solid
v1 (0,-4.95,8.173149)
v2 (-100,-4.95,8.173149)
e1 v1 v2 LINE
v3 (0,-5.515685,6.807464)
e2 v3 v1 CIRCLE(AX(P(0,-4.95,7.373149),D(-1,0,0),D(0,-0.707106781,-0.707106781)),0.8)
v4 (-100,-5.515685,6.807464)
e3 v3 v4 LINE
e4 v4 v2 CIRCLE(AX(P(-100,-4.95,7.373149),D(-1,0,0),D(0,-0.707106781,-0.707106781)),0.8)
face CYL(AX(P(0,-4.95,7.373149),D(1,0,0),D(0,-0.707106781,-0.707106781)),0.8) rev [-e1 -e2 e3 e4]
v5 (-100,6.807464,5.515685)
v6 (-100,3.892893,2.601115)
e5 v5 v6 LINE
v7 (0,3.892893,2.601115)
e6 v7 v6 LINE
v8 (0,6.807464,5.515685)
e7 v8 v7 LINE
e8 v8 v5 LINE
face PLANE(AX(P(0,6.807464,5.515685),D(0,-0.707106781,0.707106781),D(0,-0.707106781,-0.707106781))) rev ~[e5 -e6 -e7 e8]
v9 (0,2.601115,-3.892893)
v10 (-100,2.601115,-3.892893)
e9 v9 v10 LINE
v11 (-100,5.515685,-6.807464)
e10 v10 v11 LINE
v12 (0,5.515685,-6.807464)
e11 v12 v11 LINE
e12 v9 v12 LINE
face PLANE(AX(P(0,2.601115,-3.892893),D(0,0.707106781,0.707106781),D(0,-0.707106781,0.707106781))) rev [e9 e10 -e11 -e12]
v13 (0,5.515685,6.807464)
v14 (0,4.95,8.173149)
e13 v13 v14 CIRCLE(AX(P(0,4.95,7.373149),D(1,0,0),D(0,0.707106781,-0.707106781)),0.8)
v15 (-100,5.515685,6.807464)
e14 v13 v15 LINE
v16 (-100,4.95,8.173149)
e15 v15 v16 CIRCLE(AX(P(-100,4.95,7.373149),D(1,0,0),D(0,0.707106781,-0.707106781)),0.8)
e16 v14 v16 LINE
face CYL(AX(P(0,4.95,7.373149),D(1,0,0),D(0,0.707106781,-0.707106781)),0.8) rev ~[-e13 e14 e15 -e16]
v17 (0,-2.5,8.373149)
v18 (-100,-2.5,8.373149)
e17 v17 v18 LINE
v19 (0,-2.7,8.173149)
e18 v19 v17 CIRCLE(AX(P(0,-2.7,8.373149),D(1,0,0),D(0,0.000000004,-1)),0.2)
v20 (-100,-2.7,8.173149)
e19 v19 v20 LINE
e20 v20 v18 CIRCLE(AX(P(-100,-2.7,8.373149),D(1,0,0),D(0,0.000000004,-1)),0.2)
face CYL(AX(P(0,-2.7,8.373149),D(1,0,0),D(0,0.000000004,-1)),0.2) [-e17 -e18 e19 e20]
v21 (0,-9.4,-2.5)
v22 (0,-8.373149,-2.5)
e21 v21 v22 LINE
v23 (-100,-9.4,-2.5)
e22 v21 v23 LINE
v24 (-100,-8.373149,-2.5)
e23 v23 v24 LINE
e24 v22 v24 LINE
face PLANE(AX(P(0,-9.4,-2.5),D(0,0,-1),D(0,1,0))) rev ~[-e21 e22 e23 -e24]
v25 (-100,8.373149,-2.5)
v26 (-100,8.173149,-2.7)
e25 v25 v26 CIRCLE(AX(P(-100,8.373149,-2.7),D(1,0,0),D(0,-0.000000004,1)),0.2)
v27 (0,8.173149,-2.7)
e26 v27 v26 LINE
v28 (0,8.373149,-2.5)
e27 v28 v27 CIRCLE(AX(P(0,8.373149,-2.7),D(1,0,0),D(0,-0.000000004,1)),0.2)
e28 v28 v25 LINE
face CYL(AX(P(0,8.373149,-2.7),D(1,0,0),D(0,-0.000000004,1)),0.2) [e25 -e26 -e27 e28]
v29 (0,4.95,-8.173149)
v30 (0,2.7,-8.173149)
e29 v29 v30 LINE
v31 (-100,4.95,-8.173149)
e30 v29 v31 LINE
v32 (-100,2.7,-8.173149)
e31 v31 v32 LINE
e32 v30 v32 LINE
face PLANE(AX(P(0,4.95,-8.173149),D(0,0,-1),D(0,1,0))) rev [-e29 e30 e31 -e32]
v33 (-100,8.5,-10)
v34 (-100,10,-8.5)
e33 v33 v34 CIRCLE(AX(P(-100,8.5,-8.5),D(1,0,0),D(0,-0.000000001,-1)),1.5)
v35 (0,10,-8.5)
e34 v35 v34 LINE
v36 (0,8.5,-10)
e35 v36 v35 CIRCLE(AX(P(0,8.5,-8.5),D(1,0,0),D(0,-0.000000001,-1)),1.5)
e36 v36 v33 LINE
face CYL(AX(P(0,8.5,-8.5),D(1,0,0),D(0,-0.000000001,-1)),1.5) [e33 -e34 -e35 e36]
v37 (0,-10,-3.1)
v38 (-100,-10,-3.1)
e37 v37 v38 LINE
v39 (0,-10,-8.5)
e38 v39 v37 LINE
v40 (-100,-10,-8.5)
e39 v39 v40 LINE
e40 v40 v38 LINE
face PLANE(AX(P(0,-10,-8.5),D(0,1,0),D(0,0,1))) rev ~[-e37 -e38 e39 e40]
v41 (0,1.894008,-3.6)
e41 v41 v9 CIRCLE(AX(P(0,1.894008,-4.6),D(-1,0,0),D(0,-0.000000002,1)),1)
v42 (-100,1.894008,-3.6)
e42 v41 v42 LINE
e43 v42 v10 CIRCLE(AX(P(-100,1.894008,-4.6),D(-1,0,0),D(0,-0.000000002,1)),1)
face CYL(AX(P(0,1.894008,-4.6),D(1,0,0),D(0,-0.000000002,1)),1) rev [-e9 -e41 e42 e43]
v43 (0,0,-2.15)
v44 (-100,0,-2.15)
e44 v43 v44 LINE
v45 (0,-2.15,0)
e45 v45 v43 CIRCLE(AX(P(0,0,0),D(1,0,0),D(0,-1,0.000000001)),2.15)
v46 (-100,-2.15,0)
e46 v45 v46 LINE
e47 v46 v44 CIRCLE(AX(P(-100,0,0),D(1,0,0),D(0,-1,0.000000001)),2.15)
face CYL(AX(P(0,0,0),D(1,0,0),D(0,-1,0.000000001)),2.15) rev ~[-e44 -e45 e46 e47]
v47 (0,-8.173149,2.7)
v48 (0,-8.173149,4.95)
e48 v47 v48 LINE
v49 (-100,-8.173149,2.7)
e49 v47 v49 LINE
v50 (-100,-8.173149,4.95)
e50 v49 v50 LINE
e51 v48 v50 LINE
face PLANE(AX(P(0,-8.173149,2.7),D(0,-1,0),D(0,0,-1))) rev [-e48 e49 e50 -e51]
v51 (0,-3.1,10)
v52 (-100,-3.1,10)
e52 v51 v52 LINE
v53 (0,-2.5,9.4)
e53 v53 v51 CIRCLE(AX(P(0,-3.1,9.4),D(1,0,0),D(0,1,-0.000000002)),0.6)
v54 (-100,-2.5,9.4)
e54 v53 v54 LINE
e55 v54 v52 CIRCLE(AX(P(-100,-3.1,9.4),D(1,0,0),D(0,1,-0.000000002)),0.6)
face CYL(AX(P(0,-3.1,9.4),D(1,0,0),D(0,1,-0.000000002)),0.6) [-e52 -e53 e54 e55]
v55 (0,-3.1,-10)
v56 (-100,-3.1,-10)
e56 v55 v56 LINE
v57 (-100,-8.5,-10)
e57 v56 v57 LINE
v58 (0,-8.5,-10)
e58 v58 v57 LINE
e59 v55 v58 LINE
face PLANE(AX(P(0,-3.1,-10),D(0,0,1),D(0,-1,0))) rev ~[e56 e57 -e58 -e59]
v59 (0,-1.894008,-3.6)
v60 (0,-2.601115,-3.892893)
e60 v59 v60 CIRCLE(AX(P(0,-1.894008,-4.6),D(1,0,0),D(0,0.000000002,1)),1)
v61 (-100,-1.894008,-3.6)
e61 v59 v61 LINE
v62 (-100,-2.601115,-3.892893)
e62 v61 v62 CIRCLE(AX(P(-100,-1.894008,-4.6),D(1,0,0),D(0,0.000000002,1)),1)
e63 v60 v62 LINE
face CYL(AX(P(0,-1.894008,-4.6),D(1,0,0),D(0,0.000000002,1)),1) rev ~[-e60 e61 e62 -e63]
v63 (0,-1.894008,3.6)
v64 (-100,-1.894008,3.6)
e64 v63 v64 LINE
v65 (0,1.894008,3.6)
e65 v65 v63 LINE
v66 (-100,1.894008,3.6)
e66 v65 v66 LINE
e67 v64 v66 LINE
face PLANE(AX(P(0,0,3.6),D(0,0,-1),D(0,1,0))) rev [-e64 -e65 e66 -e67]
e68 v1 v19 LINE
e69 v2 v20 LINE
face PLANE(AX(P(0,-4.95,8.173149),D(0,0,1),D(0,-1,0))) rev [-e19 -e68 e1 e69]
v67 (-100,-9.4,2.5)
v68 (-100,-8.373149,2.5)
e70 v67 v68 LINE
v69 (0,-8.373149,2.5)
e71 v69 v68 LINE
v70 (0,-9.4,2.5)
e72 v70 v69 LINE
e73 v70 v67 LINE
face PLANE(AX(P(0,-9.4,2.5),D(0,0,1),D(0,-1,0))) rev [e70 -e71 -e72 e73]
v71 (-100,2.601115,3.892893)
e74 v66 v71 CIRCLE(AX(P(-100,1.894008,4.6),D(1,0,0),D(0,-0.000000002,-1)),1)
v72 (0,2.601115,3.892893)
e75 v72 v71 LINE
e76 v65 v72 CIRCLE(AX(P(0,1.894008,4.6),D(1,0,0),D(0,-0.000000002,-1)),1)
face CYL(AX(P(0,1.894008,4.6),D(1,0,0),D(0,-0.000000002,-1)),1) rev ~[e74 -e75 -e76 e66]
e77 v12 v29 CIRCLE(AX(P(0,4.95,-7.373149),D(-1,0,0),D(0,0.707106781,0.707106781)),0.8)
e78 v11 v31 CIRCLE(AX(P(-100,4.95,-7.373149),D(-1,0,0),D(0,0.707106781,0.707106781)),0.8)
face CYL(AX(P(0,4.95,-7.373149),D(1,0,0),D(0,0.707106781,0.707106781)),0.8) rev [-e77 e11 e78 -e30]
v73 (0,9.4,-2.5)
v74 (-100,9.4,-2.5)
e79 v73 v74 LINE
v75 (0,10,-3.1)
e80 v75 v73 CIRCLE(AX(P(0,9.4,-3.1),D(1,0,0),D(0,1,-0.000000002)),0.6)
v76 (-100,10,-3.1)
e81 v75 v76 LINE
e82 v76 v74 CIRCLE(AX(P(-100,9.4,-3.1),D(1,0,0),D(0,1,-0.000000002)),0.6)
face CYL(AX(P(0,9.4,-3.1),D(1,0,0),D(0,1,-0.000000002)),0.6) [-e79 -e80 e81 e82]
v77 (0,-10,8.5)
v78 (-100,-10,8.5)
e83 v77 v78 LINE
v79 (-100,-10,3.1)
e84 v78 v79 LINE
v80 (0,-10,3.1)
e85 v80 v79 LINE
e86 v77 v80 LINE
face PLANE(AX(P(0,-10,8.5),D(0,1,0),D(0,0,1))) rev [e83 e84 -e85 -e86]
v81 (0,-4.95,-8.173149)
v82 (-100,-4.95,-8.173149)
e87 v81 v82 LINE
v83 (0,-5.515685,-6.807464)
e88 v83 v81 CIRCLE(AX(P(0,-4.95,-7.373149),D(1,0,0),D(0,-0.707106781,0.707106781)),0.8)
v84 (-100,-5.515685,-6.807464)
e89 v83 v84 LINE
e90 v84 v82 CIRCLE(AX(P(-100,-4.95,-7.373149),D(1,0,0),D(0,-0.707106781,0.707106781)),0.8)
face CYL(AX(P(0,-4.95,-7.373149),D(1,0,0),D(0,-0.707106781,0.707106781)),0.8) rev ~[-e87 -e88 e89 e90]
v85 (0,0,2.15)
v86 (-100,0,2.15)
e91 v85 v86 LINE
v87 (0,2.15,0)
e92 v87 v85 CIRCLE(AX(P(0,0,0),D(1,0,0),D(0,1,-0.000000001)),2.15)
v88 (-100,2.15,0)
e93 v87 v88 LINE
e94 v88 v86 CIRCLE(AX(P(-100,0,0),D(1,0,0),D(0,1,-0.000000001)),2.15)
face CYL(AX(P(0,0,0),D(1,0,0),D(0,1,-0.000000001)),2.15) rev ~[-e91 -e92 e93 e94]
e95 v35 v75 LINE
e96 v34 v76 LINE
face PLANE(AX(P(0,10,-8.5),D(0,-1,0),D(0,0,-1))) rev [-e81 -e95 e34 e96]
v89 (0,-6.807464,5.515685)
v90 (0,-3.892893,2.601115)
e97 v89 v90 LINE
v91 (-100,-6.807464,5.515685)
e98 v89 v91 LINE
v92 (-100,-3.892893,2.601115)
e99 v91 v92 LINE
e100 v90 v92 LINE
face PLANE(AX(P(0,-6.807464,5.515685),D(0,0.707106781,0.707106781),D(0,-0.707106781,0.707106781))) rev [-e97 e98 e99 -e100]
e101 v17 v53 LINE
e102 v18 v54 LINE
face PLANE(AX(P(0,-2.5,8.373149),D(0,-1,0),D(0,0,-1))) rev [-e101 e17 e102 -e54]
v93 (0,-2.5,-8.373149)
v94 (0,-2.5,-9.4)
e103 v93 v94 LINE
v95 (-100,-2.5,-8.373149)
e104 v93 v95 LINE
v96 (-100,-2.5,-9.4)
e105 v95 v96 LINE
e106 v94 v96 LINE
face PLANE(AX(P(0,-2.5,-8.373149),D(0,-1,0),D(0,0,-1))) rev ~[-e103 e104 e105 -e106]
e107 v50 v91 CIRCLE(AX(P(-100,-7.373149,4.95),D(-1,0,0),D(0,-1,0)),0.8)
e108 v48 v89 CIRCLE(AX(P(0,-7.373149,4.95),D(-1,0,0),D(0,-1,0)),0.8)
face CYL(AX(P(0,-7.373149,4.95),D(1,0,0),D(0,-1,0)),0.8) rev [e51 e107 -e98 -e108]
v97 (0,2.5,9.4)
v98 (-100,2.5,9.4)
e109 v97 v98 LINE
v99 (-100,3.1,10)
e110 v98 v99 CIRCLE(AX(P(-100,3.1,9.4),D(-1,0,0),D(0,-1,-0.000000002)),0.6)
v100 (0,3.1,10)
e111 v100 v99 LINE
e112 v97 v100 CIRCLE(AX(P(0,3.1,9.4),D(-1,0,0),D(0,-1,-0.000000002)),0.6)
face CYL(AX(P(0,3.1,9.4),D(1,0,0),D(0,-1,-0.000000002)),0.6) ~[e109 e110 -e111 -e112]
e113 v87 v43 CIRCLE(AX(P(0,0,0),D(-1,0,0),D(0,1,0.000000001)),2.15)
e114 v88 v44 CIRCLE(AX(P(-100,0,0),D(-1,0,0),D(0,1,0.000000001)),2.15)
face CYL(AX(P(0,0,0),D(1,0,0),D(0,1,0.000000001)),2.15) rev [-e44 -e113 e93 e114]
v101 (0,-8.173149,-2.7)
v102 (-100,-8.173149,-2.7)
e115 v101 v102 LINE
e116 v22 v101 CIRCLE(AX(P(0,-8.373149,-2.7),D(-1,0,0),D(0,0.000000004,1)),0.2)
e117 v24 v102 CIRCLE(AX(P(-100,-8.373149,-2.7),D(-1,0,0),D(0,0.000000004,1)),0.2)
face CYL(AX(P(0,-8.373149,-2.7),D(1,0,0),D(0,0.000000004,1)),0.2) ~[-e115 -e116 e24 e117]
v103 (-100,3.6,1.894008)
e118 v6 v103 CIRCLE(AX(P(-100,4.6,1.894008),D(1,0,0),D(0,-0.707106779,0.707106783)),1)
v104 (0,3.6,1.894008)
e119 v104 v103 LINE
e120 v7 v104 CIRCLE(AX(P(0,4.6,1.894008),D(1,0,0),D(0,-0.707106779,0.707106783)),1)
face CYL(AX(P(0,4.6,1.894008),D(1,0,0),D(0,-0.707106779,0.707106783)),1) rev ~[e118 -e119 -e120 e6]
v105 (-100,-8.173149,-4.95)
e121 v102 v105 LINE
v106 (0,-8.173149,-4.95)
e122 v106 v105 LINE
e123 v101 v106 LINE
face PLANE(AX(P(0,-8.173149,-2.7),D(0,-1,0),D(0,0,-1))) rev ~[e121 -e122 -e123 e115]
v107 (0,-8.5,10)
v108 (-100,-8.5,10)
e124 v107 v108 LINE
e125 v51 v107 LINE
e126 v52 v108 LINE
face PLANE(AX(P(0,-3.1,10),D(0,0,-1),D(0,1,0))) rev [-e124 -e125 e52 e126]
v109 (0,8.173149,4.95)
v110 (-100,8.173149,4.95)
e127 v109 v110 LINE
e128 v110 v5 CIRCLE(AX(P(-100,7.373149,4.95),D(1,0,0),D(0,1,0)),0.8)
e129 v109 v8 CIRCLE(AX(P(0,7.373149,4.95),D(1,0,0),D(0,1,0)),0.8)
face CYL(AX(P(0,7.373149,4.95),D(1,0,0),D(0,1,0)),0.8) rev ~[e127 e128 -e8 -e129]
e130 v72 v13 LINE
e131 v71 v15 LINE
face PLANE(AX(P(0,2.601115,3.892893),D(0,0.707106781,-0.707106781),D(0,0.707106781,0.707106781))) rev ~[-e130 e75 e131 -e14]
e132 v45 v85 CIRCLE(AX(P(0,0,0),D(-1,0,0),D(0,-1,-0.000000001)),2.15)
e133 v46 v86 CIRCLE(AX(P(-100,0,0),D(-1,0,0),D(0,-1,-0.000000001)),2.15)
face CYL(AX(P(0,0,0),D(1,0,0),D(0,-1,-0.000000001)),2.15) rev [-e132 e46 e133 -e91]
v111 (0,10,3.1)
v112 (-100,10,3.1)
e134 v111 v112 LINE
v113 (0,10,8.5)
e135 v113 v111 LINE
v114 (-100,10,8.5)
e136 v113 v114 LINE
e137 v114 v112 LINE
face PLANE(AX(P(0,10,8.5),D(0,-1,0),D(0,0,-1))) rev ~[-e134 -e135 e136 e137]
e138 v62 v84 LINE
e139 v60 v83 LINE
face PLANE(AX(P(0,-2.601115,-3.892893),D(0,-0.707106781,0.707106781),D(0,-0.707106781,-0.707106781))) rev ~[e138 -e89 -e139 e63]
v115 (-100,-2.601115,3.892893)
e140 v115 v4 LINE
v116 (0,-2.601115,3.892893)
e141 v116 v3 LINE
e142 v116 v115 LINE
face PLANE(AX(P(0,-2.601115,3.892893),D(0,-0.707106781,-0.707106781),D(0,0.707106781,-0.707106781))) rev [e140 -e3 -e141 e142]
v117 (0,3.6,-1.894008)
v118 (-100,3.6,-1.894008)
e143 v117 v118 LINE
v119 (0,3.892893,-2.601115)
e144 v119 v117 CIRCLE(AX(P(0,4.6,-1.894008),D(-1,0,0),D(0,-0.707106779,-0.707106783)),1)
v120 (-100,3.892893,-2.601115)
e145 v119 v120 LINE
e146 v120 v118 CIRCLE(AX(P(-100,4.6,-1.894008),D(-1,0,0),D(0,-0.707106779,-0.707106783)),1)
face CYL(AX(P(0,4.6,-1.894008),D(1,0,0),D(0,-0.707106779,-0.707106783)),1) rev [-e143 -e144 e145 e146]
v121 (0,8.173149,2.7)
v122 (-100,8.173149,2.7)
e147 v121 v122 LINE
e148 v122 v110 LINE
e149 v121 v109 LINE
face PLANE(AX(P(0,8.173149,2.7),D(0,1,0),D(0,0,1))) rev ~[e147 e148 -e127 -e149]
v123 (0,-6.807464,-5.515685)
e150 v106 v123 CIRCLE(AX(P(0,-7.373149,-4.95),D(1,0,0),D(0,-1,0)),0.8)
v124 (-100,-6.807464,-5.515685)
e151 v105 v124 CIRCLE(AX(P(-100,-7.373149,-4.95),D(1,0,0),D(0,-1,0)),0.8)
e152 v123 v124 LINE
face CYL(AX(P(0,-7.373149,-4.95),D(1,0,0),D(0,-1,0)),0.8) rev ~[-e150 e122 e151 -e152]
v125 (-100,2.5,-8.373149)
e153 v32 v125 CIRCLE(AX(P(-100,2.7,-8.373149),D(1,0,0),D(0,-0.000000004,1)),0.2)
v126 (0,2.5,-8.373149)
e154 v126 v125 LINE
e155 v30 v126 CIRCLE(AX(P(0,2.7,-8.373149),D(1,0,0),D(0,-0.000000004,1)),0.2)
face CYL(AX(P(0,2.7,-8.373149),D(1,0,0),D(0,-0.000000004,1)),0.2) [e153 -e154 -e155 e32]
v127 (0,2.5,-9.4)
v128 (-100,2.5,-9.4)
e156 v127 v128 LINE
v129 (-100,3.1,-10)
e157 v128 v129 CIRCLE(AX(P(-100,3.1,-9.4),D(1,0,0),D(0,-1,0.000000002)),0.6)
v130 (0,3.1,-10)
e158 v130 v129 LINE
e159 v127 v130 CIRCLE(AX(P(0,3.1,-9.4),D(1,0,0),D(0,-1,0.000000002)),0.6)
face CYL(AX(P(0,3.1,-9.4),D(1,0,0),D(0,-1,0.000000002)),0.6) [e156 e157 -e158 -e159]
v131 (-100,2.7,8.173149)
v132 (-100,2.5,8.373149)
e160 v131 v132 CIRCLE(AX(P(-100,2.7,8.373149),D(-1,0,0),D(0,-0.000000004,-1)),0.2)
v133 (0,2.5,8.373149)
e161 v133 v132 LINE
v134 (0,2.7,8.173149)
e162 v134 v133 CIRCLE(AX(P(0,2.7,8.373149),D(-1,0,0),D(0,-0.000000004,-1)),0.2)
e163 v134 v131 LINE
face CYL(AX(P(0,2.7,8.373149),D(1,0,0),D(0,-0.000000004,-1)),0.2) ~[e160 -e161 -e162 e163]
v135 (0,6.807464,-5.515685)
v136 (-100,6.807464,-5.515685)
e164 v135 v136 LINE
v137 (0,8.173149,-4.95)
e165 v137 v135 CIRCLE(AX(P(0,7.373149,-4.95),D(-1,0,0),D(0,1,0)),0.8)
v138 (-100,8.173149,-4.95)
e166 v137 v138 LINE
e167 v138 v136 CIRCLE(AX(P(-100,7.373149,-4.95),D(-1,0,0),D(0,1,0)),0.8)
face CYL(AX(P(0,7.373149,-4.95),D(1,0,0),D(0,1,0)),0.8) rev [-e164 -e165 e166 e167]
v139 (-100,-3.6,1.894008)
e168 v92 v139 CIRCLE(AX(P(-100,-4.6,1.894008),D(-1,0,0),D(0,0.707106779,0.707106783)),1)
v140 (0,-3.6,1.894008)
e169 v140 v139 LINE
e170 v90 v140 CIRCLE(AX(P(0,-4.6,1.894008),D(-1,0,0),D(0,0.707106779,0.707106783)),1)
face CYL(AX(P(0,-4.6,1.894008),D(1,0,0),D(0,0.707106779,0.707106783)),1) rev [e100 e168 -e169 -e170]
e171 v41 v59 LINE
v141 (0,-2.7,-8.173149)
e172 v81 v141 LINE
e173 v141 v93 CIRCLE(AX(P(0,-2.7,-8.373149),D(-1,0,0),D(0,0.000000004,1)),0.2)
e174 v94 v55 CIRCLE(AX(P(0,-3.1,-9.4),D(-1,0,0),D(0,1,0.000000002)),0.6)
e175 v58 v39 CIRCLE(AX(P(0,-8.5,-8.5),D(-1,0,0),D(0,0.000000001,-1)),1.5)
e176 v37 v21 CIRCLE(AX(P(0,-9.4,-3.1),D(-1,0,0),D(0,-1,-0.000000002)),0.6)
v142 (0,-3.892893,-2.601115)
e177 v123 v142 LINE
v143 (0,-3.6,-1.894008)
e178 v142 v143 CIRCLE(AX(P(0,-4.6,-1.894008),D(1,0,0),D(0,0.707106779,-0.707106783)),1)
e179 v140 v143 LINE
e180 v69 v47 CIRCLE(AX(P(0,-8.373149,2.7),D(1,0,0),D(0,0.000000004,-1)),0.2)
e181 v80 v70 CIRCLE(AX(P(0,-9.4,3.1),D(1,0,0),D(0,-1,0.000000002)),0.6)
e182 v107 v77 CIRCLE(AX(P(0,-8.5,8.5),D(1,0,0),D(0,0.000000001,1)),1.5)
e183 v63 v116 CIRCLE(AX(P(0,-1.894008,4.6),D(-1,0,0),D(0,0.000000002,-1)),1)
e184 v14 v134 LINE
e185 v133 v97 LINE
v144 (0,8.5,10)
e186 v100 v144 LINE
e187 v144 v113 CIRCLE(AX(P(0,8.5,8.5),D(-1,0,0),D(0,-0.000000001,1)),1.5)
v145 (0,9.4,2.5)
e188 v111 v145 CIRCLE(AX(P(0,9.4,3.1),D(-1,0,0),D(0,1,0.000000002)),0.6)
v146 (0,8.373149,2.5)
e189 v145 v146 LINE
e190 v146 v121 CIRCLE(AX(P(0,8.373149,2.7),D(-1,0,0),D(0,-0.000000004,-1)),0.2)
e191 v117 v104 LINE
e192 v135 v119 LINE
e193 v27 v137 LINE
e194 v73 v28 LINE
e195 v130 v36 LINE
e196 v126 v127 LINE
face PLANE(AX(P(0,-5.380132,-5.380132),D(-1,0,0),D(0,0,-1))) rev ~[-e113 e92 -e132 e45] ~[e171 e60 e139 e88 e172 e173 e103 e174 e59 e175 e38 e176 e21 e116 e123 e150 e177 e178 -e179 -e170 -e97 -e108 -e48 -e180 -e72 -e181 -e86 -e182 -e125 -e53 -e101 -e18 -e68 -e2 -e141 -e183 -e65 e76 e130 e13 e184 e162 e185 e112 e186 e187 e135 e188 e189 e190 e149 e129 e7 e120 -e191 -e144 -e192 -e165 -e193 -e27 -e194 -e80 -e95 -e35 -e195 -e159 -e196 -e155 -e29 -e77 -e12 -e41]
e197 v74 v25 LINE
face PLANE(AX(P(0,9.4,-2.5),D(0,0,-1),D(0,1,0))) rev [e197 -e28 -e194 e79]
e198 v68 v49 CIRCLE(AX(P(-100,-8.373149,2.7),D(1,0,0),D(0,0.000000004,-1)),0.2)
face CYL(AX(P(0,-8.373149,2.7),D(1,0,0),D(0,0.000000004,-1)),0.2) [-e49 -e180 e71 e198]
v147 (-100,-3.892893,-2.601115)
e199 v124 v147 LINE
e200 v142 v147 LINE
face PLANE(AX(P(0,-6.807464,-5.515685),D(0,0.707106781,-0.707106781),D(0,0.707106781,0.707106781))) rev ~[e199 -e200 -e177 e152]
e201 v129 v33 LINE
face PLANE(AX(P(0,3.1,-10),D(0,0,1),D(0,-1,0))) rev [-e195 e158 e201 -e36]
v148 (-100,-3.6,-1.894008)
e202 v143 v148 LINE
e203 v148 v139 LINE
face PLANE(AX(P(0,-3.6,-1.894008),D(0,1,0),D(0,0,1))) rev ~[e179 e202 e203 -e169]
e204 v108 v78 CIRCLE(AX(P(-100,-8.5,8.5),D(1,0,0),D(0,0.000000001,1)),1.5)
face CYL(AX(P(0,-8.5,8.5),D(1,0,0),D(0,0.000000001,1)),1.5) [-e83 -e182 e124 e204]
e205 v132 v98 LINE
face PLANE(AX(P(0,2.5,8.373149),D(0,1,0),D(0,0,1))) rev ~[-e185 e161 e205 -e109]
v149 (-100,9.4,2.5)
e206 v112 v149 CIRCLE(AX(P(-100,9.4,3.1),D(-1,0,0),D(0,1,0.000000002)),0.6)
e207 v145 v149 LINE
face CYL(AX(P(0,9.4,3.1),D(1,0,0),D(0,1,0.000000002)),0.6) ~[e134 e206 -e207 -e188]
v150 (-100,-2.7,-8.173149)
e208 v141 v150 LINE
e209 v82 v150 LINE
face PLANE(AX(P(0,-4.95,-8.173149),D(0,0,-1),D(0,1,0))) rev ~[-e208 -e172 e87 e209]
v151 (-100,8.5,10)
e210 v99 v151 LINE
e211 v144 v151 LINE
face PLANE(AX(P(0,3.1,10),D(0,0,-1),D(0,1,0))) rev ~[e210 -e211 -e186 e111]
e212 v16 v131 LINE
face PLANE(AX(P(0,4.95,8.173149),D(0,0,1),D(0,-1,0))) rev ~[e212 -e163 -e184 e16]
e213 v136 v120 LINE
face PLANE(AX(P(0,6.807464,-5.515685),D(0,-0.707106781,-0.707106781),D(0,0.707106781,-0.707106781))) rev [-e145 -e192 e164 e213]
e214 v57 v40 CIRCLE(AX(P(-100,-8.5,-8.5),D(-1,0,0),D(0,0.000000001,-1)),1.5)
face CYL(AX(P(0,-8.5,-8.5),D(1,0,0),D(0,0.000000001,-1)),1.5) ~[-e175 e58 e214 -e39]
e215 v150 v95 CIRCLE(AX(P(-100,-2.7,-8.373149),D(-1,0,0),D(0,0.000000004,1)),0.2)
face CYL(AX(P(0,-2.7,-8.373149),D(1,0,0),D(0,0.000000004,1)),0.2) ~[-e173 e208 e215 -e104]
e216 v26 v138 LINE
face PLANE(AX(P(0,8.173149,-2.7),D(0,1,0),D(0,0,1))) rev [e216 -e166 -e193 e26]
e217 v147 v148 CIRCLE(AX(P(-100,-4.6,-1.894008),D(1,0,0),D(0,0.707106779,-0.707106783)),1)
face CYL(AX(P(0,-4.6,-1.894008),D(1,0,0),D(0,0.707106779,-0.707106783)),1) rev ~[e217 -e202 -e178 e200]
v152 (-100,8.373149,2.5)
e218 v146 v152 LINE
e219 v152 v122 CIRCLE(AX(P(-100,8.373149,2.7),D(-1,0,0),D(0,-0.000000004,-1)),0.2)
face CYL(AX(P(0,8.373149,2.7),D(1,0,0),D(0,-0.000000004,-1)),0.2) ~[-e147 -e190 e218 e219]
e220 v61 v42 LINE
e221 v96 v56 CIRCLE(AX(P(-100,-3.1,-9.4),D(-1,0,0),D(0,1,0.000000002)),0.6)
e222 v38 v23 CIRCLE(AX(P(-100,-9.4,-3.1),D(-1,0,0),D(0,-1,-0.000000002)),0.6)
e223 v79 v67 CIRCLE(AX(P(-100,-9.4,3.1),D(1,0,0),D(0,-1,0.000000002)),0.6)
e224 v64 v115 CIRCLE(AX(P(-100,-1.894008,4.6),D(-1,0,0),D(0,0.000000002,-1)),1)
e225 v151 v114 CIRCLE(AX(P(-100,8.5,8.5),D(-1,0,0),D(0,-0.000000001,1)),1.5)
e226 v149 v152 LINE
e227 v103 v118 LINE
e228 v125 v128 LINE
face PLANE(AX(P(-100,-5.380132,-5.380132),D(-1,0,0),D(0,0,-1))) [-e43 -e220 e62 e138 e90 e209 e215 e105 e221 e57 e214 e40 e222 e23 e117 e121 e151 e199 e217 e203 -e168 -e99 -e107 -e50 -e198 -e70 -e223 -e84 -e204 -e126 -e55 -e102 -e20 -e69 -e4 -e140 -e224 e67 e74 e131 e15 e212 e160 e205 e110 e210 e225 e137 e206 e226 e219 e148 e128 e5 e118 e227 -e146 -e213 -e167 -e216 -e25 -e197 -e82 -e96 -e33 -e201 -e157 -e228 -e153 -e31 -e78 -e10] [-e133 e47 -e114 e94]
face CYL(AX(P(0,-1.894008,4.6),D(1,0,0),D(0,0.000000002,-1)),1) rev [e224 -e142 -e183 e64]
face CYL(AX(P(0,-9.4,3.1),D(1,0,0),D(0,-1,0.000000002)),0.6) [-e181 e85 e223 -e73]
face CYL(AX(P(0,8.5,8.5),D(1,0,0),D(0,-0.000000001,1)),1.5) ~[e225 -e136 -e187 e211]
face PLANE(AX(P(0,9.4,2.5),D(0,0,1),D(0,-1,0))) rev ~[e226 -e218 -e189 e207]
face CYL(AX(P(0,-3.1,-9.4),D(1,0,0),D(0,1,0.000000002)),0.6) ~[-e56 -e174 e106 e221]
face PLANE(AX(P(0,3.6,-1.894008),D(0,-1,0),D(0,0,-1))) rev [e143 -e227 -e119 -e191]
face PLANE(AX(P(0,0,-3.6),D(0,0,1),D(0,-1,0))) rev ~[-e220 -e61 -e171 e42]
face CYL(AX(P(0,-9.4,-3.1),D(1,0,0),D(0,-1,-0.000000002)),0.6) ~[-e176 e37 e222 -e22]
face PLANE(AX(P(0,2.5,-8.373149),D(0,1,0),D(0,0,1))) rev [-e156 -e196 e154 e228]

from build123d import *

# Parameters (mm, degrees)
BOSS_EXTRUDE1_DEPTH = 100


with BuildPart() as part:
    # Sketch3 → Boss-Extrude1 (new body)
    with BuildSketch(Plane(origin=(0, 0, 0), x_dir=(0, 0, -1), z_dir=(1, 0, 0))):
        with BuildLine():
            Line((-5.515685425, 6.807463915), (-2.601114729, 3.892893219))
            ThreePointArc((-2.601114729, 3.892893219), (-2.27669138, 3.676120467), (-1.894007948, 3.6))
            Line((-1.894007948, 3.6), (0, 3.6))
            Line((0, 3.6), (0, 2.15))
            ThreePointArc((0, 2.15), (-1.52027958, 1.52027958), (-2.15, 0))
            Line((-2.15, 0), (-3.6, 0))
            Line((-3.6, 0), (-3.6, 1.894007948))
            ThreePointArc((-3.6, 1.894007948), (-3.676120467, 2.27669138), (-3.892893219, 2.601114729))
            Line((-3.892893219, 2.601114729), (-6.807463915, 5.515685425))
            ThreePointArc((-6.807463915, 5.515685425), (-7.679296086, 5.689103626), (-8.17314934, 4.95))
            Line((-8.17314934, 4.95), (-8.17314934, 2.7))
            ThreePointArc((-8.17314934, 2.7), (-8.231727984, 2.558578644), (-8.37314934, 2.5))
            Line((-8.37314934, 2.5), (-9.4, 2.5))
            ThreePointArc((-9.4, 2.5), (-9.824264069, 2.675735931), (-10, 3.1))
            Line((-10, 3.1), (-10, 8.5))
            ThreePointArc((-10, 8.5), (-9.560660172, 9.560660172), (-8.5, 10))
            Line((-8.5, 10), (-3.1, 10))
            ThreePointArc((-3.1, 10), (-2.675735931, 9.824264069), (-2.5, 9.4))
            Line((-2.5, 9.4), (-2.5, 8.37314934))
            ThreePointArc((-2.5, 8.37314934), (-2.558578644, 8.231727984), (-2.7, 8.17314934))
            Line((-2.7, 8.17314934), (-4.95, 8.17314934))
            ThreePointArc((-4.95, 8.17314934), (-5.689103626, 7.679296086), (-5.515685425, 6.807463915))
        make_face()
    extrude(amount=-BOSS_EXTRUDE1_DEPTH)

    # Mirror1: part across plane


with BuildPart() as part_1:
    add(part.part)
    add(part.part.mirror(Plane.ZX))

    # Mirror2: part across plane


with BuildPart() as part_2:
    add(part_1.part)
    add(part_1.part.mirror(Plane.XY))


solid = part_2.part
